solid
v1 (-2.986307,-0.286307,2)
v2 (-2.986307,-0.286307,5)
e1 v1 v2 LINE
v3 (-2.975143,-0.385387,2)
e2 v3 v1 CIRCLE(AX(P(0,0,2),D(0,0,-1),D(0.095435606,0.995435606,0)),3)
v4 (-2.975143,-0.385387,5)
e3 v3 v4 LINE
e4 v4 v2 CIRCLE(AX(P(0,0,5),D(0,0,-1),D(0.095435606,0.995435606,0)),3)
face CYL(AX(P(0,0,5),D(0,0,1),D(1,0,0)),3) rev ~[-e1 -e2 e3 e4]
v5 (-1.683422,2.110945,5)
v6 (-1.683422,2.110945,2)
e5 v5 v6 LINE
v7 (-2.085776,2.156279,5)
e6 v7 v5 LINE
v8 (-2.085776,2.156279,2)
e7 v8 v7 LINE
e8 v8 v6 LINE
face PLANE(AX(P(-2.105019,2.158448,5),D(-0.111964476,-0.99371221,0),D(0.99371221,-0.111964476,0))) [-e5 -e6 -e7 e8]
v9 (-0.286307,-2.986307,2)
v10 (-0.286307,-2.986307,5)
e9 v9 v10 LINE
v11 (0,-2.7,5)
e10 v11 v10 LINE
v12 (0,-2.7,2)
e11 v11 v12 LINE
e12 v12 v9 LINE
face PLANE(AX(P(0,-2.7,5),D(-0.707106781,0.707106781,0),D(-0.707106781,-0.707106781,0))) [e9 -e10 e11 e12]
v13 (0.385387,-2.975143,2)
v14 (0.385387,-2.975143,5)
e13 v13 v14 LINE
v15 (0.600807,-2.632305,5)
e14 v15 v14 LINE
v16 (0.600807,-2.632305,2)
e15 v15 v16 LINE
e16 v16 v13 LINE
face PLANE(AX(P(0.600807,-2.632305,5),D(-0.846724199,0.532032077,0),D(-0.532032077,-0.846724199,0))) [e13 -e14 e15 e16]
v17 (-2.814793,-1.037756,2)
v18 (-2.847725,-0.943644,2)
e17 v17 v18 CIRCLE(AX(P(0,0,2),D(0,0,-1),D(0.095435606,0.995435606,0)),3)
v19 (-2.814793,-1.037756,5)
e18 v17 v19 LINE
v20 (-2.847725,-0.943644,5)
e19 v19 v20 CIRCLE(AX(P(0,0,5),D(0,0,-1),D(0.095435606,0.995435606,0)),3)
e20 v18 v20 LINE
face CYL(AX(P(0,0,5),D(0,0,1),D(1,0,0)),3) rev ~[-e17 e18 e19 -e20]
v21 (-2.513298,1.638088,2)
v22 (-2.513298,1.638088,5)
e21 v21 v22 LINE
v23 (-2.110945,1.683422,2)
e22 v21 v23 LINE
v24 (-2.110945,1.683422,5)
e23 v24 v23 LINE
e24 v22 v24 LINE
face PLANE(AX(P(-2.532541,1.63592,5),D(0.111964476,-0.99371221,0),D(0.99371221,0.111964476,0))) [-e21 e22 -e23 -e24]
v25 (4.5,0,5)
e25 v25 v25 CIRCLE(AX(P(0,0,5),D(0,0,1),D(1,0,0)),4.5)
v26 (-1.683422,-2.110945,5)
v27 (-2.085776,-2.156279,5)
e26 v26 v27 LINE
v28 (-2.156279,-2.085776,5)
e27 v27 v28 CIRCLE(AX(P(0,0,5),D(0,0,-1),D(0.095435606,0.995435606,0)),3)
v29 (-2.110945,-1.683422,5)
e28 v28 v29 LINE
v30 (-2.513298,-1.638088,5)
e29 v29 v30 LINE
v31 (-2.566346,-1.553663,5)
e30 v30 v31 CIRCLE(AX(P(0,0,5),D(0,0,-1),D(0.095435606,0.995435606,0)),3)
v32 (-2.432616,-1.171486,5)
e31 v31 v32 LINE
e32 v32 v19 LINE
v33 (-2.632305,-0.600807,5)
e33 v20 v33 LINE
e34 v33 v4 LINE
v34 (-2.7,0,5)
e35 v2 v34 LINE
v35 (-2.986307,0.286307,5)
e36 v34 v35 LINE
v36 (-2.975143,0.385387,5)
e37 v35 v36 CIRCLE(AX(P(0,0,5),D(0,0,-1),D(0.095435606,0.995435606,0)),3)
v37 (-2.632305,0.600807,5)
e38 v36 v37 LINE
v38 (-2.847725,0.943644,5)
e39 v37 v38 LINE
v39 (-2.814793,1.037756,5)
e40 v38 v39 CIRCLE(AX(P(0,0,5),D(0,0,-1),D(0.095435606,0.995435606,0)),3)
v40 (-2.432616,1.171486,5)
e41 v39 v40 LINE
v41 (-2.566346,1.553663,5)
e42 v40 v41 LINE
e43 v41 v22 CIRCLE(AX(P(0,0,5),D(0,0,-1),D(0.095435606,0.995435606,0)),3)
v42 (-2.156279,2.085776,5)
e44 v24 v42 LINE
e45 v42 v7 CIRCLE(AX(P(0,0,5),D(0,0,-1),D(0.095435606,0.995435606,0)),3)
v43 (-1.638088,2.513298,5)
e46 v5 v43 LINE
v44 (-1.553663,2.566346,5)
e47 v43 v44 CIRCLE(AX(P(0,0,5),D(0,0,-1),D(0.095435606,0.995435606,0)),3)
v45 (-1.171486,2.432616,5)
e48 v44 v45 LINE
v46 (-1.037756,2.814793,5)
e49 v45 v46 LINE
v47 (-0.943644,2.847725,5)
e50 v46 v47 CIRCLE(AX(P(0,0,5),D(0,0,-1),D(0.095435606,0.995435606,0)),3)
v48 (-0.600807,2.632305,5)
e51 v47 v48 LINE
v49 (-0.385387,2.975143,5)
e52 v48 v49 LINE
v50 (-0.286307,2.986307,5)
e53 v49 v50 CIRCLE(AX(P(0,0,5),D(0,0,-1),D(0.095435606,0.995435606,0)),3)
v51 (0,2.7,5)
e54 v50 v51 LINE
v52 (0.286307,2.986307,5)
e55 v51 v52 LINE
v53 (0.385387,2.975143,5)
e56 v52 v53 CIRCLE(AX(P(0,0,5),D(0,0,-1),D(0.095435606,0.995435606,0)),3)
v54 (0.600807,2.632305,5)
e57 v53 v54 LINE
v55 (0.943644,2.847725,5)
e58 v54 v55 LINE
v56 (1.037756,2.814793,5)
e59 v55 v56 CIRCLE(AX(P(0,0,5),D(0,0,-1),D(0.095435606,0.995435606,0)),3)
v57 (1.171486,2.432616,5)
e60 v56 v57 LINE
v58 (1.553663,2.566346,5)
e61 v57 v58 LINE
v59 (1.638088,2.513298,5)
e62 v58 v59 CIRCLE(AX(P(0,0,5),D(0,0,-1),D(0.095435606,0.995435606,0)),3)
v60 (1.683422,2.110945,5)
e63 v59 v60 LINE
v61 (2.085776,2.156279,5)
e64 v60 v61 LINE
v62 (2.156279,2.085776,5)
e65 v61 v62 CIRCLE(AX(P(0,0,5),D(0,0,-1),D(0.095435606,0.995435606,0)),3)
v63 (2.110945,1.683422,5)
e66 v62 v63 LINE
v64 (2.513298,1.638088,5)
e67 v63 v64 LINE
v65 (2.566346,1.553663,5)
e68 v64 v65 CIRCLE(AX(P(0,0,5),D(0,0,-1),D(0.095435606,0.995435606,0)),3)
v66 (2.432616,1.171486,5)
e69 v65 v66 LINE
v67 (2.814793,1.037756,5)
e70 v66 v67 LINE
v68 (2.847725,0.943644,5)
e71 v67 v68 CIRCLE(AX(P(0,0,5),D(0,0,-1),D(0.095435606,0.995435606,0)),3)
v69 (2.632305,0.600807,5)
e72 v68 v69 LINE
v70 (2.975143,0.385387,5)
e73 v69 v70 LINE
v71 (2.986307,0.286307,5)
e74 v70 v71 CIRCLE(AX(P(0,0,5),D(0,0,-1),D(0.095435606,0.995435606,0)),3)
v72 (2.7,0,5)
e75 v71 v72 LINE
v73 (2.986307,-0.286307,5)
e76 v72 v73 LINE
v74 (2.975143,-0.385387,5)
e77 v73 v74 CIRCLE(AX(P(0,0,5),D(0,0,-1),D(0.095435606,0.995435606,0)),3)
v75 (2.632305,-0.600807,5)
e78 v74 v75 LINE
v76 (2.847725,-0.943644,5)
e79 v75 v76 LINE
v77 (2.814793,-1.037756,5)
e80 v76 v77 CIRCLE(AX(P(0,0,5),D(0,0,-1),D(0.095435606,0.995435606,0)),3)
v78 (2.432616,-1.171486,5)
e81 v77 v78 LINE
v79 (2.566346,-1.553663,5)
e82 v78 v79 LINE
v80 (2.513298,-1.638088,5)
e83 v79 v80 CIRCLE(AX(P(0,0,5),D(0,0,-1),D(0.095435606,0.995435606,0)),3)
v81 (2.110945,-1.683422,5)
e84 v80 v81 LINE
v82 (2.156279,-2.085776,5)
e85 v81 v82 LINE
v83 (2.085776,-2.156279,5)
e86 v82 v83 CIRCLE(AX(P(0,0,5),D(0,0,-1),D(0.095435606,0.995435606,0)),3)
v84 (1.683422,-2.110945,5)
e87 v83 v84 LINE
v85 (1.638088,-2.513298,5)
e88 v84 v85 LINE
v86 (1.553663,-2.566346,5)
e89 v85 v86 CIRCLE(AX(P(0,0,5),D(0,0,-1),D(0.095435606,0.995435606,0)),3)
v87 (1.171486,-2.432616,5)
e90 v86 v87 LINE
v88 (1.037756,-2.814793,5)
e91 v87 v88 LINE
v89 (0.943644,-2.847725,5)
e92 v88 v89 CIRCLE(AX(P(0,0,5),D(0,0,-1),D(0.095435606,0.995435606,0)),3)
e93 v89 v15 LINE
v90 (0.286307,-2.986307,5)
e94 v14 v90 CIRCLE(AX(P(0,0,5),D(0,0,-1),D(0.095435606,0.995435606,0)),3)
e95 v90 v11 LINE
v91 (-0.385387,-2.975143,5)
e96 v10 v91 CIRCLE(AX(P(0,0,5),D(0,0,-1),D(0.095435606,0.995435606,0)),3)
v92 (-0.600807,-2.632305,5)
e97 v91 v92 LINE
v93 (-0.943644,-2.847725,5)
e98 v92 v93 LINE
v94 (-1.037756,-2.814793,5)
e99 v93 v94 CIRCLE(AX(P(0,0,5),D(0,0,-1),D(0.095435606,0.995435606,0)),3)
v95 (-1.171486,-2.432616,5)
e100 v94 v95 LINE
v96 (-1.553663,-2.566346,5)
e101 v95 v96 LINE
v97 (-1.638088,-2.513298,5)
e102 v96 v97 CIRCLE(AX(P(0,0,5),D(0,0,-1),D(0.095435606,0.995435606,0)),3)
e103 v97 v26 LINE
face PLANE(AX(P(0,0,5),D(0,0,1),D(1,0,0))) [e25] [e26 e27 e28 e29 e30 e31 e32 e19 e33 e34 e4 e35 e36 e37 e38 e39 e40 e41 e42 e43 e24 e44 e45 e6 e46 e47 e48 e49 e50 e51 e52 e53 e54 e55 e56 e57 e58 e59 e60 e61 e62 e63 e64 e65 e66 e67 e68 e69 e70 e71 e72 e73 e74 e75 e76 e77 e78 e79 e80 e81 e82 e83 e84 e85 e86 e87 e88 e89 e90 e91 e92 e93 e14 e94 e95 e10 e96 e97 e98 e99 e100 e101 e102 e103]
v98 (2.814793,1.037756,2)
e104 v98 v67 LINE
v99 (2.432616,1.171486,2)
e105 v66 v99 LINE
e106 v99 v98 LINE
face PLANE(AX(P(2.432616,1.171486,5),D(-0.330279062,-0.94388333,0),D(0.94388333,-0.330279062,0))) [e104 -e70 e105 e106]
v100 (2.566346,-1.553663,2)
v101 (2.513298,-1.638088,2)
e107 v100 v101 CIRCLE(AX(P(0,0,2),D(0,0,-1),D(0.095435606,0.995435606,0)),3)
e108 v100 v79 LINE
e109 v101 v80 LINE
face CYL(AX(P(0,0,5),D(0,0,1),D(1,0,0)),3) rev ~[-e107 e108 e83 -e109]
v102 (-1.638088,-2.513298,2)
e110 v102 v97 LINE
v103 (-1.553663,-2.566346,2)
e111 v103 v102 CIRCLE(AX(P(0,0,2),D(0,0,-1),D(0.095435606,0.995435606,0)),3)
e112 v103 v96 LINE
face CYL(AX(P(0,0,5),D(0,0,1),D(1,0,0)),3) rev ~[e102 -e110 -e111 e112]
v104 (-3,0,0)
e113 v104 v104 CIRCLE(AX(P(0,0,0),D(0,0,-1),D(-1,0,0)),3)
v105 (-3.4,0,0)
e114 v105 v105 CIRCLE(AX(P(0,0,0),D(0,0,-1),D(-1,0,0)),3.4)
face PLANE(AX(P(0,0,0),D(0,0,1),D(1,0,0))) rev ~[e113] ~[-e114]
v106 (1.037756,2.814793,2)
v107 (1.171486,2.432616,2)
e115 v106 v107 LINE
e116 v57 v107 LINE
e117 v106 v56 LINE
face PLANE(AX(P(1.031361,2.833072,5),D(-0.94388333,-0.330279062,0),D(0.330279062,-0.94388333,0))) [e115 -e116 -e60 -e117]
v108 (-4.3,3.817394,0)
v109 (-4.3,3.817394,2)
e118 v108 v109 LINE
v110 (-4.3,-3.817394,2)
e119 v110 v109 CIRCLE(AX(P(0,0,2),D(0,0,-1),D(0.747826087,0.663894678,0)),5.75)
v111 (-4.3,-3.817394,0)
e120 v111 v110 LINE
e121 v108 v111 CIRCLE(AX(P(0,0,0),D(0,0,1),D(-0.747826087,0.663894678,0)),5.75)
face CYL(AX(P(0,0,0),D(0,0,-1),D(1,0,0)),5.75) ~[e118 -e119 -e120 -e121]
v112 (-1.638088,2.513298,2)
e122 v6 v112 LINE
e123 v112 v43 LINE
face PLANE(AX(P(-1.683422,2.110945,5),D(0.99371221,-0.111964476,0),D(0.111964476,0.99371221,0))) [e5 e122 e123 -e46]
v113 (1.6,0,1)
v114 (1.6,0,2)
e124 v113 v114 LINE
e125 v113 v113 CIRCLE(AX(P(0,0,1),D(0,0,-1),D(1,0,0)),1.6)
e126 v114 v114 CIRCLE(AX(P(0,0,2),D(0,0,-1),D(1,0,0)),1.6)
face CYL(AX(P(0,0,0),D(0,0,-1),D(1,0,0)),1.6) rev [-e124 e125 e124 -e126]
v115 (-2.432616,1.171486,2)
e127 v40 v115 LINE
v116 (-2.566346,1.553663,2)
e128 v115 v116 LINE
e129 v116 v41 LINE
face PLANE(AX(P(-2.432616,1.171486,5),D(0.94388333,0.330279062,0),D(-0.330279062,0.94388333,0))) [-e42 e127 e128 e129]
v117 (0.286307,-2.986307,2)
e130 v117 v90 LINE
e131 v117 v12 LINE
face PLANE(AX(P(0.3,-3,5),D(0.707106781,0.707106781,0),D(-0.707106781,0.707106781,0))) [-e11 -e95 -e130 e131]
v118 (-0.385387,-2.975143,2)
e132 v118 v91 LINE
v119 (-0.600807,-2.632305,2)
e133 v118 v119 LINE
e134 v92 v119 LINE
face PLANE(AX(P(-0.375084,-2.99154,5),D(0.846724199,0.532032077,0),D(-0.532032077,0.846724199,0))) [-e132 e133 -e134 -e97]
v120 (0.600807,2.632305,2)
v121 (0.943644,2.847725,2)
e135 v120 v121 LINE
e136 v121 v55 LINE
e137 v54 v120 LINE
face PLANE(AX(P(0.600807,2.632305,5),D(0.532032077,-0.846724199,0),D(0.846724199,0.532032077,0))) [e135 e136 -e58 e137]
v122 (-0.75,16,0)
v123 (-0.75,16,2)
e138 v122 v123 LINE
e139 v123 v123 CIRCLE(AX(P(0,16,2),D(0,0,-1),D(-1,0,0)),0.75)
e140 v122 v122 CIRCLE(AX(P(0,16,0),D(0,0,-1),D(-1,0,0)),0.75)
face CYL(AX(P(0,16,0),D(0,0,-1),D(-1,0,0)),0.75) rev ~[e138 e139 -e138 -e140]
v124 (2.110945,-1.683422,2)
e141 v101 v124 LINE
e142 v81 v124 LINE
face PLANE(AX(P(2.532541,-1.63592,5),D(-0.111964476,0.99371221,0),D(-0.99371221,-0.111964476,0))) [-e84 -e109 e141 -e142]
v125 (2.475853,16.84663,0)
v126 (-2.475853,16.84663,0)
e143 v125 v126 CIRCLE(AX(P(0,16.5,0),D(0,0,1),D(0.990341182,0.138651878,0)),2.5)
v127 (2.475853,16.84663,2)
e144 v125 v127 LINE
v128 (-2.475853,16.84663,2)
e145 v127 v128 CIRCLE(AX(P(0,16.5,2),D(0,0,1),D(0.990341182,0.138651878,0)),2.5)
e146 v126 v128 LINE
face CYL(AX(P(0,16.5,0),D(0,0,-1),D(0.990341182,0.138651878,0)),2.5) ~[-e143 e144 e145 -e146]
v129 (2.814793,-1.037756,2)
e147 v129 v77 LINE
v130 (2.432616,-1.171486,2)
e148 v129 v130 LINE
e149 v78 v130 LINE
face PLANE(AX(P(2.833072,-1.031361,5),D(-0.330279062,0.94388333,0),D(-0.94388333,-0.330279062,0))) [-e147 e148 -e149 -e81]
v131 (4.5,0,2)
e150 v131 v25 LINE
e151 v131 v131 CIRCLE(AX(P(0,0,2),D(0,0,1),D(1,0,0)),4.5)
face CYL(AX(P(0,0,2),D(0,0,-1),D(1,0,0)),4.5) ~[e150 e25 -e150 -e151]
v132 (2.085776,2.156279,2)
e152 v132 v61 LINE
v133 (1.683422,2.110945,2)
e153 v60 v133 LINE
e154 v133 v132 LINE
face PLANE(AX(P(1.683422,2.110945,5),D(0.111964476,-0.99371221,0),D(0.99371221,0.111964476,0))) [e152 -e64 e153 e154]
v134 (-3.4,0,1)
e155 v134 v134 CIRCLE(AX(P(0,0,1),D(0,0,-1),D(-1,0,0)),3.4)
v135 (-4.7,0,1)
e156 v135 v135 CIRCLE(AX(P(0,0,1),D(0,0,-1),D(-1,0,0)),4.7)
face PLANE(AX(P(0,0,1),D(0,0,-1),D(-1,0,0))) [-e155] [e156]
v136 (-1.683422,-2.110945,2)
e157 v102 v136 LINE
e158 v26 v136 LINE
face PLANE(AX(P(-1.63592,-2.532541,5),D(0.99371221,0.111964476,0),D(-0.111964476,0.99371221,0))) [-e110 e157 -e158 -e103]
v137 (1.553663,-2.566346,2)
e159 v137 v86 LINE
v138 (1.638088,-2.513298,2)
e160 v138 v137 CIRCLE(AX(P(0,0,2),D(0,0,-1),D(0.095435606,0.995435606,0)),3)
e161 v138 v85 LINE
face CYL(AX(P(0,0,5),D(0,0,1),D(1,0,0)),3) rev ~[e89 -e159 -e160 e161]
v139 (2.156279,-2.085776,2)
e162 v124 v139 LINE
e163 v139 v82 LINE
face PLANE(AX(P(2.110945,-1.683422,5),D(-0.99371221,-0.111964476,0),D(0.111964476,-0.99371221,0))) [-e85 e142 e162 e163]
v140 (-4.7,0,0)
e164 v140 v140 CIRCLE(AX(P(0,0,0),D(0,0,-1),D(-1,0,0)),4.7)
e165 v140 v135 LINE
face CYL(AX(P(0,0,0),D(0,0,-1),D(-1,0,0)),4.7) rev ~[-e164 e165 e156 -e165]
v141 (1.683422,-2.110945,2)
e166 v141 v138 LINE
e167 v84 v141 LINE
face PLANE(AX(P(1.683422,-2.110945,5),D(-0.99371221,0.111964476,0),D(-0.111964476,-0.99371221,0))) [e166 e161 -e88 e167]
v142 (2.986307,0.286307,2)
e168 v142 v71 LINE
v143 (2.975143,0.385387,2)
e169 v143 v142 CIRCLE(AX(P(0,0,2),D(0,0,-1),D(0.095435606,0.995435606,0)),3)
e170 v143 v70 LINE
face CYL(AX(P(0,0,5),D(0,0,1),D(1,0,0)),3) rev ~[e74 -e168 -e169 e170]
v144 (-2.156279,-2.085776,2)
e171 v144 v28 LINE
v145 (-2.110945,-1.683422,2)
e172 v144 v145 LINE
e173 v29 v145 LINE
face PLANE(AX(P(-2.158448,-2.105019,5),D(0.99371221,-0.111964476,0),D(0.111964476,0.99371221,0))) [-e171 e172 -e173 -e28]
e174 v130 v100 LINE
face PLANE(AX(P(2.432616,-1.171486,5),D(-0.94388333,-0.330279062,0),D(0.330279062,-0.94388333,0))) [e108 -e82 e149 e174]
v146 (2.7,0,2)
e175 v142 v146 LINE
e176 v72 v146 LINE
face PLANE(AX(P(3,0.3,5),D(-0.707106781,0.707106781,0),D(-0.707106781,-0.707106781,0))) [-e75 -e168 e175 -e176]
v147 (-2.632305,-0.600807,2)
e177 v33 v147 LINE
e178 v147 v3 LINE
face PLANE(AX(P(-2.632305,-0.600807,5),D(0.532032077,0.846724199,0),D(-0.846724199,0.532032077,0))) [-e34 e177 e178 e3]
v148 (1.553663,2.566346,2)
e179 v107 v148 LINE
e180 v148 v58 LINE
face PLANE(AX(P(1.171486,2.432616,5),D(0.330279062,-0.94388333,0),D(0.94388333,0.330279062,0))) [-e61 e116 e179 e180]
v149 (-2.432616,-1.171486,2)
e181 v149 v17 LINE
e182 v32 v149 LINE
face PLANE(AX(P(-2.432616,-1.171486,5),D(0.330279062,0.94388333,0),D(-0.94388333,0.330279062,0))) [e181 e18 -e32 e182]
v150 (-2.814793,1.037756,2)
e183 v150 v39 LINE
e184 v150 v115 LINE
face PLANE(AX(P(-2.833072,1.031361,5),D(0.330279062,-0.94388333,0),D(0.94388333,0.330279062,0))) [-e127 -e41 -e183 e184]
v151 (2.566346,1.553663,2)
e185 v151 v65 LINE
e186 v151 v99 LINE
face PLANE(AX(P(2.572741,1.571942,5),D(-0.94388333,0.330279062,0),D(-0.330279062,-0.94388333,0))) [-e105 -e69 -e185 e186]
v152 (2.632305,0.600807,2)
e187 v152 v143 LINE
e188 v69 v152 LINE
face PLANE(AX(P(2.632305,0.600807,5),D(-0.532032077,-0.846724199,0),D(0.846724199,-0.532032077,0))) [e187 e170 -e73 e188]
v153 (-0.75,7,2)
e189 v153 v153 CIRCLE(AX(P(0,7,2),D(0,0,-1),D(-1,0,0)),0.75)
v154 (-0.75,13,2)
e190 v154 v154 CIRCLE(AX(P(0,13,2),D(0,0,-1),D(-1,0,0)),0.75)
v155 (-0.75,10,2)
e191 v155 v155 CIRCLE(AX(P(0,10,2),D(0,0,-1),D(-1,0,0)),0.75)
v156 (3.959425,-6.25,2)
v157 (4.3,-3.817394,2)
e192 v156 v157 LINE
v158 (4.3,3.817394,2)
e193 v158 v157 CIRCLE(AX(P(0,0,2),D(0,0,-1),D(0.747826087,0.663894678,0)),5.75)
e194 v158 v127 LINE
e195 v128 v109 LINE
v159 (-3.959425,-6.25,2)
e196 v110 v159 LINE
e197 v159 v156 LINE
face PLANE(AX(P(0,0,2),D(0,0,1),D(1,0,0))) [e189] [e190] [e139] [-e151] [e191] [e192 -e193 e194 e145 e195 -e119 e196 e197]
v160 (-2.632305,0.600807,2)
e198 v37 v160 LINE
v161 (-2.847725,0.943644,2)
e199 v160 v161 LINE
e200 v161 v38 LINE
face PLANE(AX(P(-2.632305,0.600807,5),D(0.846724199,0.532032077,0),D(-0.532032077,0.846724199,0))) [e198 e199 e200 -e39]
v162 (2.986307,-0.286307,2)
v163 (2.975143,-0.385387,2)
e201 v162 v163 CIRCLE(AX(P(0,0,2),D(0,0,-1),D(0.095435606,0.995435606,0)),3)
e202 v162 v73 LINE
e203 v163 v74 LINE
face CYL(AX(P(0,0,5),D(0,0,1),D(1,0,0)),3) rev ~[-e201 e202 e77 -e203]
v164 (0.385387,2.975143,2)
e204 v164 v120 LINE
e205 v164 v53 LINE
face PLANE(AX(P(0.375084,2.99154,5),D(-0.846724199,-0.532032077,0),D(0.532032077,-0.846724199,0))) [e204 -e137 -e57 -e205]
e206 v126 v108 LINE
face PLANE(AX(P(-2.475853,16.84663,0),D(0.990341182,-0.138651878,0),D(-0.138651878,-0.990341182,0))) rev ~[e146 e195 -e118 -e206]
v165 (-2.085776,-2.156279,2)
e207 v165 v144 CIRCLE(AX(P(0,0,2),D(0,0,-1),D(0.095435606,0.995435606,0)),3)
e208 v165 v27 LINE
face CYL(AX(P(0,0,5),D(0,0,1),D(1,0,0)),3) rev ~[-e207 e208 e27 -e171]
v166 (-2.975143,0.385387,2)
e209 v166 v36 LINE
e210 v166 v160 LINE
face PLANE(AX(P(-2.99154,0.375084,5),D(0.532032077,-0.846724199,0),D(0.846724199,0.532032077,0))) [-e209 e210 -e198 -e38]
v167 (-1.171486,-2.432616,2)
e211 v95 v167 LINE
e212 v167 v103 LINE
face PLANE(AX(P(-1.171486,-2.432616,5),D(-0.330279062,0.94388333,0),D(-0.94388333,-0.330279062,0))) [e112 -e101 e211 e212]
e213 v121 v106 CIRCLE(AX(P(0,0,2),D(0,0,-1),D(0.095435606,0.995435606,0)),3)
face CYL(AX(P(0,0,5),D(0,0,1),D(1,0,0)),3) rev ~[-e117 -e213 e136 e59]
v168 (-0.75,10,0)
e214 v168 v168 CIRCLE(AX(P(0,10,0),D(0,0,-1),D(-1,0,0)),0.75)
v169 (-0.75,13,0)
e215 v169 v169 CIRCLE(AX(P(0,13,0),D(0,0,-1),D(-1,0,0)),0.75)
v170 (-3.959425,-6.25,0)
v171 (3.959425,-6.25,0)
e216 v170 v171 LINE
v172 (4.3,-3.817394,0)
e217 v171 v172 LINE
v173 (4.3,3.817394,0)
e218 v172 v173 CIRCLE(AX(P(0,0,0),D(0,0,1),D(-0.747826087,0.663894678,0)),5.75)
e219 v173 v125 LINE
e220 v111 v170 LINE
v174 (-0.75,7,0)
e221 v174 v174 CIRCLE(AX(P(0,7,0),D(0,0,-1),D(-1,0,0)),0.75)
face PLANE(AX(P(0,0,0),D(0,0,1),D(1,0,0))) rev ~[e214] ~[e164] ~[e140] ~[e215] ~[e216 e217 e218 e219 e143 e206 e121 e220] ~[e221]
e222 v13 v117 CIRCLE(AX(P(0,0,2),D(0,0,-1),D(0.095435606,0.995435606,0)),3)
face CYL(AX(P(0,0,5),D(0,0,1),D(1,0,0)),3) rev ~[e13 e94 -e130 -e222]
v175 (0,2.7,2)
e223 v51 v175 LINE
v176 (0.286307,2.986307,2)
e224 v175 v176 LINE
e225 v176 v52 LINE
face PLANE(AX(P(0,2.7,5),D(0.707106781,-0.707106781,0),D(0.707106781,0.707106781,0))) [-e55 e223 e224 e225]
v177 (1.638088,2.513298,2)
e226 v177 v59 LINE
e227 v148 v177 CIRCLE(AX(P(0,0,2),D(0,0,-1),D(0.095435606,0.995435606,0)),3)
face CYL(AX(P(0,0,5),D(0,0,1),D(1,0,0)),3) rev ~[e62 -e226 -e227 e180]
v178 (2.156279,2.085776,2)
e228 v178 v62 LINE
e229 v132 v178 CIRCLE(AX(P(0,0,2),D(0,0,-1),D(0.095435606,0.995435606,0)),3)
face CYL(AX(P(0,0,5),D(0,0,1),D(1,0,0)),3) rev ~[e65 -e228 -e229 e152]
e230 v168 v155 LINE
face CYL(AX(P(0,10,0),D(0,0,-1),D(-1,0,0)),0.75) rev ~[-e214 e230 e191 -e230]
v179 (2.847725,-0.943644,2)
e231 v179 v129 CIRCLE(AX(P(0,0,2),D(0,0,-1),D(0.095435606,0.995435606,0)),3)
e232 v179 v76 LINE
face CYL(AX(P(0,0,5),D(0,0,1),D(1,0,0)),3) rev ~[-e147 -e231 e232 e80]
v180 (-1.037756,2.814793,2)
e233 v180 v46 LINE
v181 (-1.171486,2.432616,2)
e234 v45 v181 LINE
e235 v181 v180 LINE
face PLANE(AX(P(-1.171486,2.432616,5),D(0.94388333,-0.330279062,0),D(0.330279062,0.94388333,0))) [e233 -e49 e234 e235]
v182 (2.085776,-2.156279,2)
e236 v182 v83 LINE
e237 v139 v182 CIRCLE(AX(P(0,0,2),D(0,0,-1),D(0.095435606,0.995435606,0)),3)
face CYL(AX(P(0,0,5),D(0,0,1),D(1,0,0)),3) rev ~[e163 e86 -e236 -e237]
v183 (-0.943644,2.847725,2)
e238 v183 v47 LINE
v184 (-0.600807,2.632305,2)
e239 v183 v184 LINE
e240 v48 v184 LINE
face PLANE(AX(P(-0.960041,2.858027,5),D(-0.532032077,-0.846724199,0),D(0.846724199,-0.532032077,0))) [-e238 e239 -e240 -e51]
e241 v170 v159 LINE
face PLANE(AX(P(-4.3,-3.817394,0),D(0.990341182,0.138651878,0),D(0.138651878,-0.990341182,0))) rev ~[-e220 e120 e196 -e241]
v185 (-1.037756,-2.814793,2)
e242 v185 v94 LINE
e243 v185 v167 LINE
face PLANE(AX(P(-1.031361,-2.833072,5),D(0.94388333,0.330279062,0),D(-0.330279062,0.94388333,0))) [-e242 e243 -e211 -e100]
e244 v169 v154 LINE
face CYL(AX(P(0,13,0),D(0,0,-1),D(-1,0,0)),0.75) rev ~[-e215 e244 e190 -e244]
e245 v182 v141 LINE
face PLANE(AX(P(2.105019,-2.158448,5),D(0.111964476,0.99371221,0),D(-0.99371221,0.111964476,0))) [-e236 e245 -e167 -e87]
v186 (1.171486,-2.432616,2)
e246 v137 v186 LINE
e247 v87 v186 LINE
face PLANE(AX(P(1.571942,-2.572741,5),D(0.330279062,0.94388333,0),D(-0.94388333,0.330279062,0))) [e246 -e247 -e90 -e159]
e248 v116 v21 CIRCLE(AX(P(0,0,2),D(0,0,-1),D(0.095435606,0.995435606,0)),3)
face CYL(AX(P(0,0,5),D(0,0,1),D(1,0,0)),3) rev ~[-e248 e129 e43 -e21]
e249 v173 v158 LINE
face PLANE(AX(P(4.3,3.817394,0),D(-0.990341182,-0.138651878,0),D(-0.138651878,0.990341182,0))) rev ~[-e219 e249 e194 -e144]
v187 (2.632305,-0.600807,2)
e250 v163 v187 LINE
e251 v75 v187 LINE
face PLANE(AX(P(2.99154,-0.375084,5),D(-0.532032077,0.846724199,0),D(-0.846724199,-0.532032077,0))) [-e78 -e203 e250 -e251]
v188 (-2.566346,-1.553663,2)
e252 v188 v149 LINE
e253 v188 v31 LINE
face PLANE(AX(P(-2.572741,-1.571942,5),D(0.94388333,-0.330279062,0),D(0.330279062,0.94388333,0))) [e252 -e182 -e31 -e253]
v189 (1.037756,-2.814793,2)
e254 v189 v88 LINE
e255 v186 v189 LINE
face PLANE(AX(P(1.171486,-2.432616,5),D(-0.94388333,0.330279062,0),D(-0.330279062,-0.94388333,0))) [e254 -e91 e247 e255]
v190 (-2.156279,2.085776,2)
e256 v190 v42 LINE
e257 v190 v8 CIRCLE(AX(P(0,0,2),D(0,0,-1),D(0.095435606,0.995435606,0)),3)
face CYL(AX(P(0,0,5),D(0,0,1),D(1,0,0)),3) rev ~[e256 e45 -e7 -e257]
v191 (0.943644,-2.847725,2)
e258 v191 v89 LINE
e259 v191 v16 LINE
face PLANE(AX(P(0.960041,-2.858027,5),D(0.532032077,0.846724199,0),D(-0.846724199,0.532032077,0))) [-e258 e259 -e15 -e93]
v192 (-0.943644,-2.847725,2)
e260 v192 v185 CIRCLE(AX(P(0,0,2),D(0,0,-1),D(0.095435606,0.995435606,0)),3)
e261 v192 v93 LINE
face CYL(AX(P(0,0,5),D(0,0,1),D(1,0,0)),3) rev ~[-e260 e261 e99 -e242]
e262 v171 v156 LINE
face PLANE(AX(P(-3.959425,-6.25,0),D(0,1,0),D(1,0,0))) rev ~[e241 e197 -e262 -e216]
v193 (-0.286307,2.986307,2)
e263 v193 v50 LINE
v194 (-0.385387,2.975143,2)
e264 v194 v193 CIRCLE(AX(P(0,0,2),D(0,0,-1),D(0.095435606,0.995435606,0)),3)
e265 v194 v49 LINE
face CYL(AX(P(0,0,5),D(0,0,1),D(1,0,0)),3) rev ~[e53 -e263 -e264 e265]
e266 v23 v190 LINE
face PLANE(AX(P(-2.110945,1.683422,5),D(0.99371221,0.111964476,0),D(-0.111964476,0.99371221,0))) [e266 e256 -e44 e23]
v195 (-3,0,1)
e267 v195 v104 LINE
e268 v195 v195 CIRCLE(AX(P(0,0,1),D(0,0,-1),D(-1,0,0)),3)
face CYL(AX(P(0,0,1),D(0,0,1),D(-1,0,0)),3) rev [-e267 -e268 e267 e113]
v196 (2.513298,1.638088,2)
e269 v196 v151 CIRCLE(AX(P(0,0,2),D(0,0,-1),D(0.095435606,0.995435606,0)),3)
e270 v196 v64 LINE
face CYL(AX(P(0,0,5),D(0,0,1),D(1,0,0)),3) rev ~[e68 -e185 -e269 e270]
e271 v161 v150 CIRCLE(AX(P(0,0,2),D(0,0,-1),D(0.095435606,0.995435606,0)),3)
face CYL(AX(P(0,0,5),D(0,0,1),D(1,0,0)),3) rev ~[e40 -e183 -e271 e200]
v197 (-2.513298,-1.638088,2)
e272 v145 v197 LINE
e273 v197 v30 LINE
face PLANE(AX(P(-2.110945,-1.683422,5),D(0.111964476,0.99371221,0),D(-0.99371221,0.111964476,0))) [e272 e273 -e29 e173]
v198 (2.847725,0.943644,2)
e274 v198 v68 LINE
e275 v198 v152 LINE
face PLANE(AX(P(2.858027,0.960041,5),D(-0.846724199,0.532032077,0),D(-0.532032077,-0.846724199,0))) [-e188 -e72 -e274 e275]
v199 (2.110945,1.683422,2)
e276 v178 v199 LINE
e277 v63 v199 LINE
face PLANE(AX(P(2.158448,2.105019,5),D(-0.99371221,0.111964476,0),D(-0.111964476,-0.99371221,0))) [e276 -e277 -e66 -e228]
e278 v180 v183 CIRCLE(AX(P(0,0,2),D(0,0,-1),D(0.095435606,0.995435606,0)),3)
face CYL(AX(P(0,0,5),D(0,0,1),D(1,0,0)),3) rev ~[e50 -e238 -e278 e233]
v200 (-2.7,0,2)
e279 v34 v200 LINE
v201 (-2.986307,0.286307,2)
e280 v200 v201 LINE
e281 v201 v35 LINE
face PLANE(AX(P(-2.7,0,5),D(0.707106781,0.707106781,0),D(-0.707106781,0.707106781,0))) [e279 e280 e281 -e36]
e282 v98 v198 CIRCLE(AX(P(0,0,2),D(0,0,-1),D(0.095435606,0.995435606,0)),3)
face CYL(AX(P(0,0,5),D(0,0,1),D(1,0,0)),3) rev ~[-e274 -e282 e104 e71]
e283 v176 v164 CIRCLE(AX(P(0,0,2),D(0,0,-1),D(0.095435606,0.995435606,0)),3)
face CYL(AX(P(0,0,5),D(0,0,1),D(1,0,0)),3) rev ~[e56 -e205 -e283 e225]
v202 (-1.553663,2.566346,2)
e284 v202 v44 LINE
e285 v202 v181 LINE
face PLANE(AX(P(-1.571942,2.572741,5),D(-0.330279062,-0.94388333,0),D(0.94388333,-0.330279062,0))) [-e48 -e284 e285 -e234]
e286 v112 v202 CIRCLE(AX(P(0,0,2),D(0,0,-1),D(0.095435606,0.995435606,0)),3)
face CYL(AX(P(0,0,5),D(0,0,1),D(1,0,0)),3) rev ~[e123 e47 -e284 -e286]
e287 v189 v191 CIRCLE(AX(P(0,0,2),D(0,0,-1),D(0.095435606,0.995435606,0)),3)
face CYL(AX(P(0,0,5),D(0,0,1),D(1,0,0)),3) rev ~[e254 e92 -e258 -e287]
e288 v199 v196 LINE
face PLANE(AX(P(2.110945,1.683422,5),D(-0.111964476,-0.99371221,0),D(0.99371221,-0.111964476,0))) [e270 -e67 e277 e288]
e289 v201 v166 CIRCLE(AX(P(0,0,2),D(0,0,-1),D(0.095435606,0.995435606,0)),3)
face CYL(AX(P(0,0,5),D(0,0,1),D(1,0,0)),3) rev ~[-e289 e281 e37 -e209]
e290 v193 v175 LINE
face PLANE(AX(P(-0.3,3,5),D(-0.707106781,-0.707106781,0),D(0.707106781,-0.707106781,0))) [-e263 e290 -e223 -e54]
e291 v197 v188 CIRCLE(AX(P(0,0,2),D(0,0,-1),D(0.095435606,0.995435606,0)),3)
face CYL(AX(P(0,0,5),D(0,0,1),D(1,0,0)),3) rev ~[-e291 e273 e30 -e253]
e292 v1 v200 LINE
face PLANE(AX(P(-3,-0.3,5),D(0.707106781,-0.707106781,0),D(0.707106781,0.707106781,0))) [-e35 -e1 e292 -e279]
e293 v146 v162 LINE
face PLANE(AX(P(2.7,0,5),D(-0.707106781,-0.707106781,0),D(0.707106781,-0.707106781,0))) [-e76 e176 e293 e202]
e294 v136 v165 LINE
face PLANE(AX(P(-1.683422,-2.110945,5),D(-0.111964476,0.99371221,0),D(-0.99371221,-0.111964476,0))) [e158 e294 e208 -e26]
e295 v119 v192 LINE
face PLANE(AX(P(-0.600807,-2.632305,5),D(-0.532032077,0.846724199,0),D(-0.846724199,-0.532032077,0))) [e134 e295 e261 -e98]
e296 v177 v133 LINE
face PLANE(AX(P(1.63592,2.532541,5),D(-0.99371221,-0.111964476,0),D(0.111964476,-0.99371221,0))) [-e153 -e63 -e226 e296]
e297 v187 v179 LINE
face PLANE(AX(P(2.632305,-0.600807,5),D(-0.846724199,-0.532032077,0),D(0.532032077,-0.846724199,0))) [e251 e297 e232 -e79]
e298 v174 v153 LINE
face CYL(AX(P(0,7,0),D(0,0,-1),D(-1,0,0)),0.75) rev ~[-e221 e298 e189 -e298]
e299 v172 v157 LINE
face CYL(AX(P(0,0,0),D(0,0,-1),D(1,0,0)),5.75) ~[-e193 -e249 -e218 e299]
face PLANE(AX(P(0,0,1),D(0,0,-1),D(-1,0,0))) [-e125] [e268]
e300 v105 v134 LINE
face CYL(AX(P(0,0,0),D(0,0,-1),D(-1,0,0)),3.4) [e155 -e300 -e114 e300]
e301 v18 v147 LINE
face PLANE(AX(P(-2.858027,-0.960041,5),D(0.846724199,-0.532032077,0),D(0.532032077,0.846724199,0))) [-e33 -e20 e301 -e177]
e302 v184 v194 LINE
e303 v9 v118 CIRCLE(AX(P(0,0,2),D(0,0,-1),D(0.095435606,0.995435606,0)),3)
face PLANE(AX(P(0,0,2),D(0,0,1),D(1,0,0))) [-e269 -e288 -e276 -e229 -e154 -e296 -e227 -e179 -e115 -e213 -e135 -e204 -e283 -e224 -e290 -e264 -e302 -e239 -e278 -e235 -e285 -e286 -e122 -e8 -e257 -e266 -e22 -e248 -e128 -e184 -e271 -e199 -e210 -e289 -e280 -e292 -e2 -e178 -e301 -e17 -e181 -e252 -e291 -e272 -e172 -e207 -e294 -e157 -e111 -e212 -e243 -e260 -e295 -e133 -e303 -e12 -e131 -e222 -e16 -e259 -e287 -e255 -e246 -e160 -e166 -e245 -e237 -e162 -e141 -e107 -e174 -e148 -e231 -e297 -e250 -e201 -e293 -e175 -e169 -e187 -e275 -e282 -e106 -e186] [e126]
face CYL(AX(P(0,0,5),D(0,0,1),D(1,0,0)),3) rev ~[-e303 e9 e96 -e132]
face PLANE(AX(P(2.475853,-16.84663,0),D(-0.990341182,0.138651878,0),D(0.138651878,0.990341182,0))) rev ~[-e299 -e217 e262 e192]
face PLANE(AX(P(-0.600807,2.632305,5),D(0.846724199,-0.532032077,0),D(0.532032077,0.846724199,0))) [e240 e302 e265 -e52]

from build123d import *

# Parameters (mm, degrees)
ESQUISSE1_R                  = 5.75
ESQUISSE1_R_2                = 1.6
BOSS_EXTRU_1_DEPTH           = 5
ESQUISSE2_R                  = 3
ENL_V_MAT_EXTRU_1_DEPTH      = 3
ENL_V_START                  = -3
ESQUISSE3_R                  = 5.75
ESQUISSE3_R_2                = 4.5
ENL_V_MAT_EXTRU_2_DEPTH      = 3
BOSS_EXTRU_2_DEPTH           = 2
R_P_TITION_CIRCULAIRE1_COUNT = 2
ESQUISSE5_R                  = 0.75
ENL_V_MAT_EXTRU_3_DEPTH      = 3
R_P_TITION_CIRCULAIRE2_COUNT = 2
BOSS_EXTRU_3_DEPTH           = 3
R_P_TITION_CIRCULAIRE3_COUNT = 28
ENL_V_START_2                = -1
ESQUISSE7_R                  = 3
ESQUISSE7_R_2                = 1.6
ENL_V_MAT_EXTRU_4_DEPTH      = 1
ESQUISSE8_R                  = 4.7
ESQUISSE8_R_2                = 3.4
ENL_V_MAT_EXTRU_5_DEPTH      = 1
WYTNIJ_WYCI_GNI_CIE1_DEPTH   = 10


with BuildPart() as part:
    # Esquisse1 → Boss.-Extru.1 (new body)
    with BuildSketch(Plane.XY):
        Circle(ESQUISSE1_R)
        Circle(ESQUISSE1_R_2, mode=Mode.SUBTRACT)
    extrude(amount=BOSS_EXTRU_1_DEPTH)

    # Esquisse2 → Enlèv. mat.-Extru.1 (cut)
    with BuildSketch(Plane.XY.offset(5)):
        Circle(ESQUISSE2_R)
    extrude(amount=-ENL_V_MAT_EXTRU_1_DEPTH, mode=Mode.SUBTRACT)

    # Esquisse3 → Enlèv. mat.-Extru.2 (cut)
    with BuildSketch(Plane.XY.offset(5).offset(ENL_V_START)):
        Circle(ESQUISSE3_R)
        Circle(ESQUISSE3_R_2, mode=Mode.SUBTRACT)
    extrude(amount=ENL_V_MAT_EXTRU_2_DEPTH, mode=Mode.SUBTRACT)

    # Esquisse4 → Boss.-Extru.2 (add)
    with BuildSketch(Plane(origin=(0, 0, 0), x_dir=(-1, 0, 0), z_dir=(0, 0, -1))):
        with BuildLine():
            Line((-4.3, 3.817394399), (-2.475852955, 16.846629695))
            ThreePointArc((-2.475852955, 16.846629695), (0, 19), (2.475852955, 16.846629695))
            Line((2.475852955, 16.846629695), (4.3, 3.817394399))
            ThreePointArc((4.3, 3.817394399), (0, 5.75), (-4.3, 3.817394399))
        make_face()
    boss_extru_2 = extrude(amount=-BOSS_EXTRU_2_DEPTH)

    # Répétition circulaire1: Boss.-Extru.2 ×2 about axis
    r_p_tition_circulaire1_axis = Axis((0, 0, 0), (0, 0, 1))
    for i in range(1, R_P_TITION_CIRCULAIRE1_COUNT):
        add(boss_extru_2.rotate(r_p_tition_circulaire1_axis, i * 360 / R_P_TITION_CIRCULAIRE1_COUNT))

    # Esquisse5 → Enlèv. mat.-Extru.3 (cut)
    with BuildSketch(Plane(origin=(0, 0, 0), x_dir=(-1, 0, 0), z_dir=(0, 0, -1))):
        with Locations((0, 7)):
            Circle(ESQUISSE5_R)
        with Locations((0, 10)):
            Circle(ESQUISSE5_R)
        with Locations((0, 13)):
            Circle(ESQUISSE5_R)
        with Locations((0, 16)):
            Circle(ESQUISSE5_R)
    enl_v_mat_extru_3 = extrude(amount=-ENL_V_MAT_EXTRU_3_DEPTH, mode=Mode.SUBTRACT)

    # Répétition circulaire2: Enlèv. mat.-Extru.3 ×2 about axis
    r_p_tition_circulaire2_axis = Axis((0, 0, 0), (0, 0, 1))
    for i in range(1, R_P_TITION_CIRCULAIRE2_COUNT):
        add(enl_v_mat_extru_3.rotate(r_p_tition_circulaire2_axis, i * 360 / R_P_TITION_CIRCULAIRE2_COUNT), mode=Mode.SUBTRACT)

    # Esquisse6 → Boss.-Extru.3 (add)
    with BuildSketch(Plane.XY.offset(5)):
        Polygon((-0.3, 3), (0, 2.7), (0.3, 3), align=None)
    boss_extru_3 = extrude(amount=-BOSS_EXTRU_3_DEPTH)

    # Répétition circulaire3: Boss.-Extru.3 ×28 about axis
    r_p_tition_circulaire3_axis = Axis((0, 0, 0), (0, 0, 1))
    for i in range(1, R_P_TITION_CIRCULAIRE3_COUNT):
        add(boss_extru_3.rotate(r_p_tition_circulaire3_axis, i * 360 / R_P_TITION_CIRCULAIRE3_COUNT))

    # Esquisse7 → Enlèv. mat.-Extru.4 (cut)
    with BuildSketch(Plane(origin=(0, 0, 0), x_dir=(-1, 0, 0), z_dir=(0, 0, -1)).offset(ENL_V_START_2)):
        Circle(ESQUISSE7_R)
        Circle(ESQUISSE7_R_2, mode=Mode.SUBTRACT)
    extrude(amount=ENL_V_MAT_EXTRU_4_DEPTH, mode=Mode.SUBTRACT)

    # Esquisse8 → Enlèv. mat.-Extru.5 (cut)
    with BuildSketch(Plane(origin=(0, 0, 0), x_dir=(-1, 0, 0), z_dir=(0, 0, -1))):
        Circle(ESQUISSE8_R)
        Circle(ESQUISSE8_R_2, mode=Mode.SUBTRACT)
    extrude(amount=-ENL_V_MAT_EXTRU_5_DEPTH, mode=Mode.SUBTRACT)

    # Szkic1 → Wytnij-wyciągnięcie1 (cut)
    with BuildSketch(Plane(origin=(0, 0, 0), x_dir=(-1, 0, 0), z_dir=(0, 0, -1))):
        with BuildLine():
            Line((3.959425115, -6.25), (-3.959425115, -6.25))
            Line((-3.959425115, -6.25), (-2.475852955, -16.846629695))
            ThreePointArc((-2.475852955, -16.846629695), (0, -19), (2.475852955, -16.846629695))
            Line((2.475852955, -16.846629695), (3.959425115, -6.25))
        make_face()
    extrude(amount=-WYTNIJ_WYCI_GNI_CIE1_DEPTH, mode=Mode.SUBTRACT)


solid = part.part
